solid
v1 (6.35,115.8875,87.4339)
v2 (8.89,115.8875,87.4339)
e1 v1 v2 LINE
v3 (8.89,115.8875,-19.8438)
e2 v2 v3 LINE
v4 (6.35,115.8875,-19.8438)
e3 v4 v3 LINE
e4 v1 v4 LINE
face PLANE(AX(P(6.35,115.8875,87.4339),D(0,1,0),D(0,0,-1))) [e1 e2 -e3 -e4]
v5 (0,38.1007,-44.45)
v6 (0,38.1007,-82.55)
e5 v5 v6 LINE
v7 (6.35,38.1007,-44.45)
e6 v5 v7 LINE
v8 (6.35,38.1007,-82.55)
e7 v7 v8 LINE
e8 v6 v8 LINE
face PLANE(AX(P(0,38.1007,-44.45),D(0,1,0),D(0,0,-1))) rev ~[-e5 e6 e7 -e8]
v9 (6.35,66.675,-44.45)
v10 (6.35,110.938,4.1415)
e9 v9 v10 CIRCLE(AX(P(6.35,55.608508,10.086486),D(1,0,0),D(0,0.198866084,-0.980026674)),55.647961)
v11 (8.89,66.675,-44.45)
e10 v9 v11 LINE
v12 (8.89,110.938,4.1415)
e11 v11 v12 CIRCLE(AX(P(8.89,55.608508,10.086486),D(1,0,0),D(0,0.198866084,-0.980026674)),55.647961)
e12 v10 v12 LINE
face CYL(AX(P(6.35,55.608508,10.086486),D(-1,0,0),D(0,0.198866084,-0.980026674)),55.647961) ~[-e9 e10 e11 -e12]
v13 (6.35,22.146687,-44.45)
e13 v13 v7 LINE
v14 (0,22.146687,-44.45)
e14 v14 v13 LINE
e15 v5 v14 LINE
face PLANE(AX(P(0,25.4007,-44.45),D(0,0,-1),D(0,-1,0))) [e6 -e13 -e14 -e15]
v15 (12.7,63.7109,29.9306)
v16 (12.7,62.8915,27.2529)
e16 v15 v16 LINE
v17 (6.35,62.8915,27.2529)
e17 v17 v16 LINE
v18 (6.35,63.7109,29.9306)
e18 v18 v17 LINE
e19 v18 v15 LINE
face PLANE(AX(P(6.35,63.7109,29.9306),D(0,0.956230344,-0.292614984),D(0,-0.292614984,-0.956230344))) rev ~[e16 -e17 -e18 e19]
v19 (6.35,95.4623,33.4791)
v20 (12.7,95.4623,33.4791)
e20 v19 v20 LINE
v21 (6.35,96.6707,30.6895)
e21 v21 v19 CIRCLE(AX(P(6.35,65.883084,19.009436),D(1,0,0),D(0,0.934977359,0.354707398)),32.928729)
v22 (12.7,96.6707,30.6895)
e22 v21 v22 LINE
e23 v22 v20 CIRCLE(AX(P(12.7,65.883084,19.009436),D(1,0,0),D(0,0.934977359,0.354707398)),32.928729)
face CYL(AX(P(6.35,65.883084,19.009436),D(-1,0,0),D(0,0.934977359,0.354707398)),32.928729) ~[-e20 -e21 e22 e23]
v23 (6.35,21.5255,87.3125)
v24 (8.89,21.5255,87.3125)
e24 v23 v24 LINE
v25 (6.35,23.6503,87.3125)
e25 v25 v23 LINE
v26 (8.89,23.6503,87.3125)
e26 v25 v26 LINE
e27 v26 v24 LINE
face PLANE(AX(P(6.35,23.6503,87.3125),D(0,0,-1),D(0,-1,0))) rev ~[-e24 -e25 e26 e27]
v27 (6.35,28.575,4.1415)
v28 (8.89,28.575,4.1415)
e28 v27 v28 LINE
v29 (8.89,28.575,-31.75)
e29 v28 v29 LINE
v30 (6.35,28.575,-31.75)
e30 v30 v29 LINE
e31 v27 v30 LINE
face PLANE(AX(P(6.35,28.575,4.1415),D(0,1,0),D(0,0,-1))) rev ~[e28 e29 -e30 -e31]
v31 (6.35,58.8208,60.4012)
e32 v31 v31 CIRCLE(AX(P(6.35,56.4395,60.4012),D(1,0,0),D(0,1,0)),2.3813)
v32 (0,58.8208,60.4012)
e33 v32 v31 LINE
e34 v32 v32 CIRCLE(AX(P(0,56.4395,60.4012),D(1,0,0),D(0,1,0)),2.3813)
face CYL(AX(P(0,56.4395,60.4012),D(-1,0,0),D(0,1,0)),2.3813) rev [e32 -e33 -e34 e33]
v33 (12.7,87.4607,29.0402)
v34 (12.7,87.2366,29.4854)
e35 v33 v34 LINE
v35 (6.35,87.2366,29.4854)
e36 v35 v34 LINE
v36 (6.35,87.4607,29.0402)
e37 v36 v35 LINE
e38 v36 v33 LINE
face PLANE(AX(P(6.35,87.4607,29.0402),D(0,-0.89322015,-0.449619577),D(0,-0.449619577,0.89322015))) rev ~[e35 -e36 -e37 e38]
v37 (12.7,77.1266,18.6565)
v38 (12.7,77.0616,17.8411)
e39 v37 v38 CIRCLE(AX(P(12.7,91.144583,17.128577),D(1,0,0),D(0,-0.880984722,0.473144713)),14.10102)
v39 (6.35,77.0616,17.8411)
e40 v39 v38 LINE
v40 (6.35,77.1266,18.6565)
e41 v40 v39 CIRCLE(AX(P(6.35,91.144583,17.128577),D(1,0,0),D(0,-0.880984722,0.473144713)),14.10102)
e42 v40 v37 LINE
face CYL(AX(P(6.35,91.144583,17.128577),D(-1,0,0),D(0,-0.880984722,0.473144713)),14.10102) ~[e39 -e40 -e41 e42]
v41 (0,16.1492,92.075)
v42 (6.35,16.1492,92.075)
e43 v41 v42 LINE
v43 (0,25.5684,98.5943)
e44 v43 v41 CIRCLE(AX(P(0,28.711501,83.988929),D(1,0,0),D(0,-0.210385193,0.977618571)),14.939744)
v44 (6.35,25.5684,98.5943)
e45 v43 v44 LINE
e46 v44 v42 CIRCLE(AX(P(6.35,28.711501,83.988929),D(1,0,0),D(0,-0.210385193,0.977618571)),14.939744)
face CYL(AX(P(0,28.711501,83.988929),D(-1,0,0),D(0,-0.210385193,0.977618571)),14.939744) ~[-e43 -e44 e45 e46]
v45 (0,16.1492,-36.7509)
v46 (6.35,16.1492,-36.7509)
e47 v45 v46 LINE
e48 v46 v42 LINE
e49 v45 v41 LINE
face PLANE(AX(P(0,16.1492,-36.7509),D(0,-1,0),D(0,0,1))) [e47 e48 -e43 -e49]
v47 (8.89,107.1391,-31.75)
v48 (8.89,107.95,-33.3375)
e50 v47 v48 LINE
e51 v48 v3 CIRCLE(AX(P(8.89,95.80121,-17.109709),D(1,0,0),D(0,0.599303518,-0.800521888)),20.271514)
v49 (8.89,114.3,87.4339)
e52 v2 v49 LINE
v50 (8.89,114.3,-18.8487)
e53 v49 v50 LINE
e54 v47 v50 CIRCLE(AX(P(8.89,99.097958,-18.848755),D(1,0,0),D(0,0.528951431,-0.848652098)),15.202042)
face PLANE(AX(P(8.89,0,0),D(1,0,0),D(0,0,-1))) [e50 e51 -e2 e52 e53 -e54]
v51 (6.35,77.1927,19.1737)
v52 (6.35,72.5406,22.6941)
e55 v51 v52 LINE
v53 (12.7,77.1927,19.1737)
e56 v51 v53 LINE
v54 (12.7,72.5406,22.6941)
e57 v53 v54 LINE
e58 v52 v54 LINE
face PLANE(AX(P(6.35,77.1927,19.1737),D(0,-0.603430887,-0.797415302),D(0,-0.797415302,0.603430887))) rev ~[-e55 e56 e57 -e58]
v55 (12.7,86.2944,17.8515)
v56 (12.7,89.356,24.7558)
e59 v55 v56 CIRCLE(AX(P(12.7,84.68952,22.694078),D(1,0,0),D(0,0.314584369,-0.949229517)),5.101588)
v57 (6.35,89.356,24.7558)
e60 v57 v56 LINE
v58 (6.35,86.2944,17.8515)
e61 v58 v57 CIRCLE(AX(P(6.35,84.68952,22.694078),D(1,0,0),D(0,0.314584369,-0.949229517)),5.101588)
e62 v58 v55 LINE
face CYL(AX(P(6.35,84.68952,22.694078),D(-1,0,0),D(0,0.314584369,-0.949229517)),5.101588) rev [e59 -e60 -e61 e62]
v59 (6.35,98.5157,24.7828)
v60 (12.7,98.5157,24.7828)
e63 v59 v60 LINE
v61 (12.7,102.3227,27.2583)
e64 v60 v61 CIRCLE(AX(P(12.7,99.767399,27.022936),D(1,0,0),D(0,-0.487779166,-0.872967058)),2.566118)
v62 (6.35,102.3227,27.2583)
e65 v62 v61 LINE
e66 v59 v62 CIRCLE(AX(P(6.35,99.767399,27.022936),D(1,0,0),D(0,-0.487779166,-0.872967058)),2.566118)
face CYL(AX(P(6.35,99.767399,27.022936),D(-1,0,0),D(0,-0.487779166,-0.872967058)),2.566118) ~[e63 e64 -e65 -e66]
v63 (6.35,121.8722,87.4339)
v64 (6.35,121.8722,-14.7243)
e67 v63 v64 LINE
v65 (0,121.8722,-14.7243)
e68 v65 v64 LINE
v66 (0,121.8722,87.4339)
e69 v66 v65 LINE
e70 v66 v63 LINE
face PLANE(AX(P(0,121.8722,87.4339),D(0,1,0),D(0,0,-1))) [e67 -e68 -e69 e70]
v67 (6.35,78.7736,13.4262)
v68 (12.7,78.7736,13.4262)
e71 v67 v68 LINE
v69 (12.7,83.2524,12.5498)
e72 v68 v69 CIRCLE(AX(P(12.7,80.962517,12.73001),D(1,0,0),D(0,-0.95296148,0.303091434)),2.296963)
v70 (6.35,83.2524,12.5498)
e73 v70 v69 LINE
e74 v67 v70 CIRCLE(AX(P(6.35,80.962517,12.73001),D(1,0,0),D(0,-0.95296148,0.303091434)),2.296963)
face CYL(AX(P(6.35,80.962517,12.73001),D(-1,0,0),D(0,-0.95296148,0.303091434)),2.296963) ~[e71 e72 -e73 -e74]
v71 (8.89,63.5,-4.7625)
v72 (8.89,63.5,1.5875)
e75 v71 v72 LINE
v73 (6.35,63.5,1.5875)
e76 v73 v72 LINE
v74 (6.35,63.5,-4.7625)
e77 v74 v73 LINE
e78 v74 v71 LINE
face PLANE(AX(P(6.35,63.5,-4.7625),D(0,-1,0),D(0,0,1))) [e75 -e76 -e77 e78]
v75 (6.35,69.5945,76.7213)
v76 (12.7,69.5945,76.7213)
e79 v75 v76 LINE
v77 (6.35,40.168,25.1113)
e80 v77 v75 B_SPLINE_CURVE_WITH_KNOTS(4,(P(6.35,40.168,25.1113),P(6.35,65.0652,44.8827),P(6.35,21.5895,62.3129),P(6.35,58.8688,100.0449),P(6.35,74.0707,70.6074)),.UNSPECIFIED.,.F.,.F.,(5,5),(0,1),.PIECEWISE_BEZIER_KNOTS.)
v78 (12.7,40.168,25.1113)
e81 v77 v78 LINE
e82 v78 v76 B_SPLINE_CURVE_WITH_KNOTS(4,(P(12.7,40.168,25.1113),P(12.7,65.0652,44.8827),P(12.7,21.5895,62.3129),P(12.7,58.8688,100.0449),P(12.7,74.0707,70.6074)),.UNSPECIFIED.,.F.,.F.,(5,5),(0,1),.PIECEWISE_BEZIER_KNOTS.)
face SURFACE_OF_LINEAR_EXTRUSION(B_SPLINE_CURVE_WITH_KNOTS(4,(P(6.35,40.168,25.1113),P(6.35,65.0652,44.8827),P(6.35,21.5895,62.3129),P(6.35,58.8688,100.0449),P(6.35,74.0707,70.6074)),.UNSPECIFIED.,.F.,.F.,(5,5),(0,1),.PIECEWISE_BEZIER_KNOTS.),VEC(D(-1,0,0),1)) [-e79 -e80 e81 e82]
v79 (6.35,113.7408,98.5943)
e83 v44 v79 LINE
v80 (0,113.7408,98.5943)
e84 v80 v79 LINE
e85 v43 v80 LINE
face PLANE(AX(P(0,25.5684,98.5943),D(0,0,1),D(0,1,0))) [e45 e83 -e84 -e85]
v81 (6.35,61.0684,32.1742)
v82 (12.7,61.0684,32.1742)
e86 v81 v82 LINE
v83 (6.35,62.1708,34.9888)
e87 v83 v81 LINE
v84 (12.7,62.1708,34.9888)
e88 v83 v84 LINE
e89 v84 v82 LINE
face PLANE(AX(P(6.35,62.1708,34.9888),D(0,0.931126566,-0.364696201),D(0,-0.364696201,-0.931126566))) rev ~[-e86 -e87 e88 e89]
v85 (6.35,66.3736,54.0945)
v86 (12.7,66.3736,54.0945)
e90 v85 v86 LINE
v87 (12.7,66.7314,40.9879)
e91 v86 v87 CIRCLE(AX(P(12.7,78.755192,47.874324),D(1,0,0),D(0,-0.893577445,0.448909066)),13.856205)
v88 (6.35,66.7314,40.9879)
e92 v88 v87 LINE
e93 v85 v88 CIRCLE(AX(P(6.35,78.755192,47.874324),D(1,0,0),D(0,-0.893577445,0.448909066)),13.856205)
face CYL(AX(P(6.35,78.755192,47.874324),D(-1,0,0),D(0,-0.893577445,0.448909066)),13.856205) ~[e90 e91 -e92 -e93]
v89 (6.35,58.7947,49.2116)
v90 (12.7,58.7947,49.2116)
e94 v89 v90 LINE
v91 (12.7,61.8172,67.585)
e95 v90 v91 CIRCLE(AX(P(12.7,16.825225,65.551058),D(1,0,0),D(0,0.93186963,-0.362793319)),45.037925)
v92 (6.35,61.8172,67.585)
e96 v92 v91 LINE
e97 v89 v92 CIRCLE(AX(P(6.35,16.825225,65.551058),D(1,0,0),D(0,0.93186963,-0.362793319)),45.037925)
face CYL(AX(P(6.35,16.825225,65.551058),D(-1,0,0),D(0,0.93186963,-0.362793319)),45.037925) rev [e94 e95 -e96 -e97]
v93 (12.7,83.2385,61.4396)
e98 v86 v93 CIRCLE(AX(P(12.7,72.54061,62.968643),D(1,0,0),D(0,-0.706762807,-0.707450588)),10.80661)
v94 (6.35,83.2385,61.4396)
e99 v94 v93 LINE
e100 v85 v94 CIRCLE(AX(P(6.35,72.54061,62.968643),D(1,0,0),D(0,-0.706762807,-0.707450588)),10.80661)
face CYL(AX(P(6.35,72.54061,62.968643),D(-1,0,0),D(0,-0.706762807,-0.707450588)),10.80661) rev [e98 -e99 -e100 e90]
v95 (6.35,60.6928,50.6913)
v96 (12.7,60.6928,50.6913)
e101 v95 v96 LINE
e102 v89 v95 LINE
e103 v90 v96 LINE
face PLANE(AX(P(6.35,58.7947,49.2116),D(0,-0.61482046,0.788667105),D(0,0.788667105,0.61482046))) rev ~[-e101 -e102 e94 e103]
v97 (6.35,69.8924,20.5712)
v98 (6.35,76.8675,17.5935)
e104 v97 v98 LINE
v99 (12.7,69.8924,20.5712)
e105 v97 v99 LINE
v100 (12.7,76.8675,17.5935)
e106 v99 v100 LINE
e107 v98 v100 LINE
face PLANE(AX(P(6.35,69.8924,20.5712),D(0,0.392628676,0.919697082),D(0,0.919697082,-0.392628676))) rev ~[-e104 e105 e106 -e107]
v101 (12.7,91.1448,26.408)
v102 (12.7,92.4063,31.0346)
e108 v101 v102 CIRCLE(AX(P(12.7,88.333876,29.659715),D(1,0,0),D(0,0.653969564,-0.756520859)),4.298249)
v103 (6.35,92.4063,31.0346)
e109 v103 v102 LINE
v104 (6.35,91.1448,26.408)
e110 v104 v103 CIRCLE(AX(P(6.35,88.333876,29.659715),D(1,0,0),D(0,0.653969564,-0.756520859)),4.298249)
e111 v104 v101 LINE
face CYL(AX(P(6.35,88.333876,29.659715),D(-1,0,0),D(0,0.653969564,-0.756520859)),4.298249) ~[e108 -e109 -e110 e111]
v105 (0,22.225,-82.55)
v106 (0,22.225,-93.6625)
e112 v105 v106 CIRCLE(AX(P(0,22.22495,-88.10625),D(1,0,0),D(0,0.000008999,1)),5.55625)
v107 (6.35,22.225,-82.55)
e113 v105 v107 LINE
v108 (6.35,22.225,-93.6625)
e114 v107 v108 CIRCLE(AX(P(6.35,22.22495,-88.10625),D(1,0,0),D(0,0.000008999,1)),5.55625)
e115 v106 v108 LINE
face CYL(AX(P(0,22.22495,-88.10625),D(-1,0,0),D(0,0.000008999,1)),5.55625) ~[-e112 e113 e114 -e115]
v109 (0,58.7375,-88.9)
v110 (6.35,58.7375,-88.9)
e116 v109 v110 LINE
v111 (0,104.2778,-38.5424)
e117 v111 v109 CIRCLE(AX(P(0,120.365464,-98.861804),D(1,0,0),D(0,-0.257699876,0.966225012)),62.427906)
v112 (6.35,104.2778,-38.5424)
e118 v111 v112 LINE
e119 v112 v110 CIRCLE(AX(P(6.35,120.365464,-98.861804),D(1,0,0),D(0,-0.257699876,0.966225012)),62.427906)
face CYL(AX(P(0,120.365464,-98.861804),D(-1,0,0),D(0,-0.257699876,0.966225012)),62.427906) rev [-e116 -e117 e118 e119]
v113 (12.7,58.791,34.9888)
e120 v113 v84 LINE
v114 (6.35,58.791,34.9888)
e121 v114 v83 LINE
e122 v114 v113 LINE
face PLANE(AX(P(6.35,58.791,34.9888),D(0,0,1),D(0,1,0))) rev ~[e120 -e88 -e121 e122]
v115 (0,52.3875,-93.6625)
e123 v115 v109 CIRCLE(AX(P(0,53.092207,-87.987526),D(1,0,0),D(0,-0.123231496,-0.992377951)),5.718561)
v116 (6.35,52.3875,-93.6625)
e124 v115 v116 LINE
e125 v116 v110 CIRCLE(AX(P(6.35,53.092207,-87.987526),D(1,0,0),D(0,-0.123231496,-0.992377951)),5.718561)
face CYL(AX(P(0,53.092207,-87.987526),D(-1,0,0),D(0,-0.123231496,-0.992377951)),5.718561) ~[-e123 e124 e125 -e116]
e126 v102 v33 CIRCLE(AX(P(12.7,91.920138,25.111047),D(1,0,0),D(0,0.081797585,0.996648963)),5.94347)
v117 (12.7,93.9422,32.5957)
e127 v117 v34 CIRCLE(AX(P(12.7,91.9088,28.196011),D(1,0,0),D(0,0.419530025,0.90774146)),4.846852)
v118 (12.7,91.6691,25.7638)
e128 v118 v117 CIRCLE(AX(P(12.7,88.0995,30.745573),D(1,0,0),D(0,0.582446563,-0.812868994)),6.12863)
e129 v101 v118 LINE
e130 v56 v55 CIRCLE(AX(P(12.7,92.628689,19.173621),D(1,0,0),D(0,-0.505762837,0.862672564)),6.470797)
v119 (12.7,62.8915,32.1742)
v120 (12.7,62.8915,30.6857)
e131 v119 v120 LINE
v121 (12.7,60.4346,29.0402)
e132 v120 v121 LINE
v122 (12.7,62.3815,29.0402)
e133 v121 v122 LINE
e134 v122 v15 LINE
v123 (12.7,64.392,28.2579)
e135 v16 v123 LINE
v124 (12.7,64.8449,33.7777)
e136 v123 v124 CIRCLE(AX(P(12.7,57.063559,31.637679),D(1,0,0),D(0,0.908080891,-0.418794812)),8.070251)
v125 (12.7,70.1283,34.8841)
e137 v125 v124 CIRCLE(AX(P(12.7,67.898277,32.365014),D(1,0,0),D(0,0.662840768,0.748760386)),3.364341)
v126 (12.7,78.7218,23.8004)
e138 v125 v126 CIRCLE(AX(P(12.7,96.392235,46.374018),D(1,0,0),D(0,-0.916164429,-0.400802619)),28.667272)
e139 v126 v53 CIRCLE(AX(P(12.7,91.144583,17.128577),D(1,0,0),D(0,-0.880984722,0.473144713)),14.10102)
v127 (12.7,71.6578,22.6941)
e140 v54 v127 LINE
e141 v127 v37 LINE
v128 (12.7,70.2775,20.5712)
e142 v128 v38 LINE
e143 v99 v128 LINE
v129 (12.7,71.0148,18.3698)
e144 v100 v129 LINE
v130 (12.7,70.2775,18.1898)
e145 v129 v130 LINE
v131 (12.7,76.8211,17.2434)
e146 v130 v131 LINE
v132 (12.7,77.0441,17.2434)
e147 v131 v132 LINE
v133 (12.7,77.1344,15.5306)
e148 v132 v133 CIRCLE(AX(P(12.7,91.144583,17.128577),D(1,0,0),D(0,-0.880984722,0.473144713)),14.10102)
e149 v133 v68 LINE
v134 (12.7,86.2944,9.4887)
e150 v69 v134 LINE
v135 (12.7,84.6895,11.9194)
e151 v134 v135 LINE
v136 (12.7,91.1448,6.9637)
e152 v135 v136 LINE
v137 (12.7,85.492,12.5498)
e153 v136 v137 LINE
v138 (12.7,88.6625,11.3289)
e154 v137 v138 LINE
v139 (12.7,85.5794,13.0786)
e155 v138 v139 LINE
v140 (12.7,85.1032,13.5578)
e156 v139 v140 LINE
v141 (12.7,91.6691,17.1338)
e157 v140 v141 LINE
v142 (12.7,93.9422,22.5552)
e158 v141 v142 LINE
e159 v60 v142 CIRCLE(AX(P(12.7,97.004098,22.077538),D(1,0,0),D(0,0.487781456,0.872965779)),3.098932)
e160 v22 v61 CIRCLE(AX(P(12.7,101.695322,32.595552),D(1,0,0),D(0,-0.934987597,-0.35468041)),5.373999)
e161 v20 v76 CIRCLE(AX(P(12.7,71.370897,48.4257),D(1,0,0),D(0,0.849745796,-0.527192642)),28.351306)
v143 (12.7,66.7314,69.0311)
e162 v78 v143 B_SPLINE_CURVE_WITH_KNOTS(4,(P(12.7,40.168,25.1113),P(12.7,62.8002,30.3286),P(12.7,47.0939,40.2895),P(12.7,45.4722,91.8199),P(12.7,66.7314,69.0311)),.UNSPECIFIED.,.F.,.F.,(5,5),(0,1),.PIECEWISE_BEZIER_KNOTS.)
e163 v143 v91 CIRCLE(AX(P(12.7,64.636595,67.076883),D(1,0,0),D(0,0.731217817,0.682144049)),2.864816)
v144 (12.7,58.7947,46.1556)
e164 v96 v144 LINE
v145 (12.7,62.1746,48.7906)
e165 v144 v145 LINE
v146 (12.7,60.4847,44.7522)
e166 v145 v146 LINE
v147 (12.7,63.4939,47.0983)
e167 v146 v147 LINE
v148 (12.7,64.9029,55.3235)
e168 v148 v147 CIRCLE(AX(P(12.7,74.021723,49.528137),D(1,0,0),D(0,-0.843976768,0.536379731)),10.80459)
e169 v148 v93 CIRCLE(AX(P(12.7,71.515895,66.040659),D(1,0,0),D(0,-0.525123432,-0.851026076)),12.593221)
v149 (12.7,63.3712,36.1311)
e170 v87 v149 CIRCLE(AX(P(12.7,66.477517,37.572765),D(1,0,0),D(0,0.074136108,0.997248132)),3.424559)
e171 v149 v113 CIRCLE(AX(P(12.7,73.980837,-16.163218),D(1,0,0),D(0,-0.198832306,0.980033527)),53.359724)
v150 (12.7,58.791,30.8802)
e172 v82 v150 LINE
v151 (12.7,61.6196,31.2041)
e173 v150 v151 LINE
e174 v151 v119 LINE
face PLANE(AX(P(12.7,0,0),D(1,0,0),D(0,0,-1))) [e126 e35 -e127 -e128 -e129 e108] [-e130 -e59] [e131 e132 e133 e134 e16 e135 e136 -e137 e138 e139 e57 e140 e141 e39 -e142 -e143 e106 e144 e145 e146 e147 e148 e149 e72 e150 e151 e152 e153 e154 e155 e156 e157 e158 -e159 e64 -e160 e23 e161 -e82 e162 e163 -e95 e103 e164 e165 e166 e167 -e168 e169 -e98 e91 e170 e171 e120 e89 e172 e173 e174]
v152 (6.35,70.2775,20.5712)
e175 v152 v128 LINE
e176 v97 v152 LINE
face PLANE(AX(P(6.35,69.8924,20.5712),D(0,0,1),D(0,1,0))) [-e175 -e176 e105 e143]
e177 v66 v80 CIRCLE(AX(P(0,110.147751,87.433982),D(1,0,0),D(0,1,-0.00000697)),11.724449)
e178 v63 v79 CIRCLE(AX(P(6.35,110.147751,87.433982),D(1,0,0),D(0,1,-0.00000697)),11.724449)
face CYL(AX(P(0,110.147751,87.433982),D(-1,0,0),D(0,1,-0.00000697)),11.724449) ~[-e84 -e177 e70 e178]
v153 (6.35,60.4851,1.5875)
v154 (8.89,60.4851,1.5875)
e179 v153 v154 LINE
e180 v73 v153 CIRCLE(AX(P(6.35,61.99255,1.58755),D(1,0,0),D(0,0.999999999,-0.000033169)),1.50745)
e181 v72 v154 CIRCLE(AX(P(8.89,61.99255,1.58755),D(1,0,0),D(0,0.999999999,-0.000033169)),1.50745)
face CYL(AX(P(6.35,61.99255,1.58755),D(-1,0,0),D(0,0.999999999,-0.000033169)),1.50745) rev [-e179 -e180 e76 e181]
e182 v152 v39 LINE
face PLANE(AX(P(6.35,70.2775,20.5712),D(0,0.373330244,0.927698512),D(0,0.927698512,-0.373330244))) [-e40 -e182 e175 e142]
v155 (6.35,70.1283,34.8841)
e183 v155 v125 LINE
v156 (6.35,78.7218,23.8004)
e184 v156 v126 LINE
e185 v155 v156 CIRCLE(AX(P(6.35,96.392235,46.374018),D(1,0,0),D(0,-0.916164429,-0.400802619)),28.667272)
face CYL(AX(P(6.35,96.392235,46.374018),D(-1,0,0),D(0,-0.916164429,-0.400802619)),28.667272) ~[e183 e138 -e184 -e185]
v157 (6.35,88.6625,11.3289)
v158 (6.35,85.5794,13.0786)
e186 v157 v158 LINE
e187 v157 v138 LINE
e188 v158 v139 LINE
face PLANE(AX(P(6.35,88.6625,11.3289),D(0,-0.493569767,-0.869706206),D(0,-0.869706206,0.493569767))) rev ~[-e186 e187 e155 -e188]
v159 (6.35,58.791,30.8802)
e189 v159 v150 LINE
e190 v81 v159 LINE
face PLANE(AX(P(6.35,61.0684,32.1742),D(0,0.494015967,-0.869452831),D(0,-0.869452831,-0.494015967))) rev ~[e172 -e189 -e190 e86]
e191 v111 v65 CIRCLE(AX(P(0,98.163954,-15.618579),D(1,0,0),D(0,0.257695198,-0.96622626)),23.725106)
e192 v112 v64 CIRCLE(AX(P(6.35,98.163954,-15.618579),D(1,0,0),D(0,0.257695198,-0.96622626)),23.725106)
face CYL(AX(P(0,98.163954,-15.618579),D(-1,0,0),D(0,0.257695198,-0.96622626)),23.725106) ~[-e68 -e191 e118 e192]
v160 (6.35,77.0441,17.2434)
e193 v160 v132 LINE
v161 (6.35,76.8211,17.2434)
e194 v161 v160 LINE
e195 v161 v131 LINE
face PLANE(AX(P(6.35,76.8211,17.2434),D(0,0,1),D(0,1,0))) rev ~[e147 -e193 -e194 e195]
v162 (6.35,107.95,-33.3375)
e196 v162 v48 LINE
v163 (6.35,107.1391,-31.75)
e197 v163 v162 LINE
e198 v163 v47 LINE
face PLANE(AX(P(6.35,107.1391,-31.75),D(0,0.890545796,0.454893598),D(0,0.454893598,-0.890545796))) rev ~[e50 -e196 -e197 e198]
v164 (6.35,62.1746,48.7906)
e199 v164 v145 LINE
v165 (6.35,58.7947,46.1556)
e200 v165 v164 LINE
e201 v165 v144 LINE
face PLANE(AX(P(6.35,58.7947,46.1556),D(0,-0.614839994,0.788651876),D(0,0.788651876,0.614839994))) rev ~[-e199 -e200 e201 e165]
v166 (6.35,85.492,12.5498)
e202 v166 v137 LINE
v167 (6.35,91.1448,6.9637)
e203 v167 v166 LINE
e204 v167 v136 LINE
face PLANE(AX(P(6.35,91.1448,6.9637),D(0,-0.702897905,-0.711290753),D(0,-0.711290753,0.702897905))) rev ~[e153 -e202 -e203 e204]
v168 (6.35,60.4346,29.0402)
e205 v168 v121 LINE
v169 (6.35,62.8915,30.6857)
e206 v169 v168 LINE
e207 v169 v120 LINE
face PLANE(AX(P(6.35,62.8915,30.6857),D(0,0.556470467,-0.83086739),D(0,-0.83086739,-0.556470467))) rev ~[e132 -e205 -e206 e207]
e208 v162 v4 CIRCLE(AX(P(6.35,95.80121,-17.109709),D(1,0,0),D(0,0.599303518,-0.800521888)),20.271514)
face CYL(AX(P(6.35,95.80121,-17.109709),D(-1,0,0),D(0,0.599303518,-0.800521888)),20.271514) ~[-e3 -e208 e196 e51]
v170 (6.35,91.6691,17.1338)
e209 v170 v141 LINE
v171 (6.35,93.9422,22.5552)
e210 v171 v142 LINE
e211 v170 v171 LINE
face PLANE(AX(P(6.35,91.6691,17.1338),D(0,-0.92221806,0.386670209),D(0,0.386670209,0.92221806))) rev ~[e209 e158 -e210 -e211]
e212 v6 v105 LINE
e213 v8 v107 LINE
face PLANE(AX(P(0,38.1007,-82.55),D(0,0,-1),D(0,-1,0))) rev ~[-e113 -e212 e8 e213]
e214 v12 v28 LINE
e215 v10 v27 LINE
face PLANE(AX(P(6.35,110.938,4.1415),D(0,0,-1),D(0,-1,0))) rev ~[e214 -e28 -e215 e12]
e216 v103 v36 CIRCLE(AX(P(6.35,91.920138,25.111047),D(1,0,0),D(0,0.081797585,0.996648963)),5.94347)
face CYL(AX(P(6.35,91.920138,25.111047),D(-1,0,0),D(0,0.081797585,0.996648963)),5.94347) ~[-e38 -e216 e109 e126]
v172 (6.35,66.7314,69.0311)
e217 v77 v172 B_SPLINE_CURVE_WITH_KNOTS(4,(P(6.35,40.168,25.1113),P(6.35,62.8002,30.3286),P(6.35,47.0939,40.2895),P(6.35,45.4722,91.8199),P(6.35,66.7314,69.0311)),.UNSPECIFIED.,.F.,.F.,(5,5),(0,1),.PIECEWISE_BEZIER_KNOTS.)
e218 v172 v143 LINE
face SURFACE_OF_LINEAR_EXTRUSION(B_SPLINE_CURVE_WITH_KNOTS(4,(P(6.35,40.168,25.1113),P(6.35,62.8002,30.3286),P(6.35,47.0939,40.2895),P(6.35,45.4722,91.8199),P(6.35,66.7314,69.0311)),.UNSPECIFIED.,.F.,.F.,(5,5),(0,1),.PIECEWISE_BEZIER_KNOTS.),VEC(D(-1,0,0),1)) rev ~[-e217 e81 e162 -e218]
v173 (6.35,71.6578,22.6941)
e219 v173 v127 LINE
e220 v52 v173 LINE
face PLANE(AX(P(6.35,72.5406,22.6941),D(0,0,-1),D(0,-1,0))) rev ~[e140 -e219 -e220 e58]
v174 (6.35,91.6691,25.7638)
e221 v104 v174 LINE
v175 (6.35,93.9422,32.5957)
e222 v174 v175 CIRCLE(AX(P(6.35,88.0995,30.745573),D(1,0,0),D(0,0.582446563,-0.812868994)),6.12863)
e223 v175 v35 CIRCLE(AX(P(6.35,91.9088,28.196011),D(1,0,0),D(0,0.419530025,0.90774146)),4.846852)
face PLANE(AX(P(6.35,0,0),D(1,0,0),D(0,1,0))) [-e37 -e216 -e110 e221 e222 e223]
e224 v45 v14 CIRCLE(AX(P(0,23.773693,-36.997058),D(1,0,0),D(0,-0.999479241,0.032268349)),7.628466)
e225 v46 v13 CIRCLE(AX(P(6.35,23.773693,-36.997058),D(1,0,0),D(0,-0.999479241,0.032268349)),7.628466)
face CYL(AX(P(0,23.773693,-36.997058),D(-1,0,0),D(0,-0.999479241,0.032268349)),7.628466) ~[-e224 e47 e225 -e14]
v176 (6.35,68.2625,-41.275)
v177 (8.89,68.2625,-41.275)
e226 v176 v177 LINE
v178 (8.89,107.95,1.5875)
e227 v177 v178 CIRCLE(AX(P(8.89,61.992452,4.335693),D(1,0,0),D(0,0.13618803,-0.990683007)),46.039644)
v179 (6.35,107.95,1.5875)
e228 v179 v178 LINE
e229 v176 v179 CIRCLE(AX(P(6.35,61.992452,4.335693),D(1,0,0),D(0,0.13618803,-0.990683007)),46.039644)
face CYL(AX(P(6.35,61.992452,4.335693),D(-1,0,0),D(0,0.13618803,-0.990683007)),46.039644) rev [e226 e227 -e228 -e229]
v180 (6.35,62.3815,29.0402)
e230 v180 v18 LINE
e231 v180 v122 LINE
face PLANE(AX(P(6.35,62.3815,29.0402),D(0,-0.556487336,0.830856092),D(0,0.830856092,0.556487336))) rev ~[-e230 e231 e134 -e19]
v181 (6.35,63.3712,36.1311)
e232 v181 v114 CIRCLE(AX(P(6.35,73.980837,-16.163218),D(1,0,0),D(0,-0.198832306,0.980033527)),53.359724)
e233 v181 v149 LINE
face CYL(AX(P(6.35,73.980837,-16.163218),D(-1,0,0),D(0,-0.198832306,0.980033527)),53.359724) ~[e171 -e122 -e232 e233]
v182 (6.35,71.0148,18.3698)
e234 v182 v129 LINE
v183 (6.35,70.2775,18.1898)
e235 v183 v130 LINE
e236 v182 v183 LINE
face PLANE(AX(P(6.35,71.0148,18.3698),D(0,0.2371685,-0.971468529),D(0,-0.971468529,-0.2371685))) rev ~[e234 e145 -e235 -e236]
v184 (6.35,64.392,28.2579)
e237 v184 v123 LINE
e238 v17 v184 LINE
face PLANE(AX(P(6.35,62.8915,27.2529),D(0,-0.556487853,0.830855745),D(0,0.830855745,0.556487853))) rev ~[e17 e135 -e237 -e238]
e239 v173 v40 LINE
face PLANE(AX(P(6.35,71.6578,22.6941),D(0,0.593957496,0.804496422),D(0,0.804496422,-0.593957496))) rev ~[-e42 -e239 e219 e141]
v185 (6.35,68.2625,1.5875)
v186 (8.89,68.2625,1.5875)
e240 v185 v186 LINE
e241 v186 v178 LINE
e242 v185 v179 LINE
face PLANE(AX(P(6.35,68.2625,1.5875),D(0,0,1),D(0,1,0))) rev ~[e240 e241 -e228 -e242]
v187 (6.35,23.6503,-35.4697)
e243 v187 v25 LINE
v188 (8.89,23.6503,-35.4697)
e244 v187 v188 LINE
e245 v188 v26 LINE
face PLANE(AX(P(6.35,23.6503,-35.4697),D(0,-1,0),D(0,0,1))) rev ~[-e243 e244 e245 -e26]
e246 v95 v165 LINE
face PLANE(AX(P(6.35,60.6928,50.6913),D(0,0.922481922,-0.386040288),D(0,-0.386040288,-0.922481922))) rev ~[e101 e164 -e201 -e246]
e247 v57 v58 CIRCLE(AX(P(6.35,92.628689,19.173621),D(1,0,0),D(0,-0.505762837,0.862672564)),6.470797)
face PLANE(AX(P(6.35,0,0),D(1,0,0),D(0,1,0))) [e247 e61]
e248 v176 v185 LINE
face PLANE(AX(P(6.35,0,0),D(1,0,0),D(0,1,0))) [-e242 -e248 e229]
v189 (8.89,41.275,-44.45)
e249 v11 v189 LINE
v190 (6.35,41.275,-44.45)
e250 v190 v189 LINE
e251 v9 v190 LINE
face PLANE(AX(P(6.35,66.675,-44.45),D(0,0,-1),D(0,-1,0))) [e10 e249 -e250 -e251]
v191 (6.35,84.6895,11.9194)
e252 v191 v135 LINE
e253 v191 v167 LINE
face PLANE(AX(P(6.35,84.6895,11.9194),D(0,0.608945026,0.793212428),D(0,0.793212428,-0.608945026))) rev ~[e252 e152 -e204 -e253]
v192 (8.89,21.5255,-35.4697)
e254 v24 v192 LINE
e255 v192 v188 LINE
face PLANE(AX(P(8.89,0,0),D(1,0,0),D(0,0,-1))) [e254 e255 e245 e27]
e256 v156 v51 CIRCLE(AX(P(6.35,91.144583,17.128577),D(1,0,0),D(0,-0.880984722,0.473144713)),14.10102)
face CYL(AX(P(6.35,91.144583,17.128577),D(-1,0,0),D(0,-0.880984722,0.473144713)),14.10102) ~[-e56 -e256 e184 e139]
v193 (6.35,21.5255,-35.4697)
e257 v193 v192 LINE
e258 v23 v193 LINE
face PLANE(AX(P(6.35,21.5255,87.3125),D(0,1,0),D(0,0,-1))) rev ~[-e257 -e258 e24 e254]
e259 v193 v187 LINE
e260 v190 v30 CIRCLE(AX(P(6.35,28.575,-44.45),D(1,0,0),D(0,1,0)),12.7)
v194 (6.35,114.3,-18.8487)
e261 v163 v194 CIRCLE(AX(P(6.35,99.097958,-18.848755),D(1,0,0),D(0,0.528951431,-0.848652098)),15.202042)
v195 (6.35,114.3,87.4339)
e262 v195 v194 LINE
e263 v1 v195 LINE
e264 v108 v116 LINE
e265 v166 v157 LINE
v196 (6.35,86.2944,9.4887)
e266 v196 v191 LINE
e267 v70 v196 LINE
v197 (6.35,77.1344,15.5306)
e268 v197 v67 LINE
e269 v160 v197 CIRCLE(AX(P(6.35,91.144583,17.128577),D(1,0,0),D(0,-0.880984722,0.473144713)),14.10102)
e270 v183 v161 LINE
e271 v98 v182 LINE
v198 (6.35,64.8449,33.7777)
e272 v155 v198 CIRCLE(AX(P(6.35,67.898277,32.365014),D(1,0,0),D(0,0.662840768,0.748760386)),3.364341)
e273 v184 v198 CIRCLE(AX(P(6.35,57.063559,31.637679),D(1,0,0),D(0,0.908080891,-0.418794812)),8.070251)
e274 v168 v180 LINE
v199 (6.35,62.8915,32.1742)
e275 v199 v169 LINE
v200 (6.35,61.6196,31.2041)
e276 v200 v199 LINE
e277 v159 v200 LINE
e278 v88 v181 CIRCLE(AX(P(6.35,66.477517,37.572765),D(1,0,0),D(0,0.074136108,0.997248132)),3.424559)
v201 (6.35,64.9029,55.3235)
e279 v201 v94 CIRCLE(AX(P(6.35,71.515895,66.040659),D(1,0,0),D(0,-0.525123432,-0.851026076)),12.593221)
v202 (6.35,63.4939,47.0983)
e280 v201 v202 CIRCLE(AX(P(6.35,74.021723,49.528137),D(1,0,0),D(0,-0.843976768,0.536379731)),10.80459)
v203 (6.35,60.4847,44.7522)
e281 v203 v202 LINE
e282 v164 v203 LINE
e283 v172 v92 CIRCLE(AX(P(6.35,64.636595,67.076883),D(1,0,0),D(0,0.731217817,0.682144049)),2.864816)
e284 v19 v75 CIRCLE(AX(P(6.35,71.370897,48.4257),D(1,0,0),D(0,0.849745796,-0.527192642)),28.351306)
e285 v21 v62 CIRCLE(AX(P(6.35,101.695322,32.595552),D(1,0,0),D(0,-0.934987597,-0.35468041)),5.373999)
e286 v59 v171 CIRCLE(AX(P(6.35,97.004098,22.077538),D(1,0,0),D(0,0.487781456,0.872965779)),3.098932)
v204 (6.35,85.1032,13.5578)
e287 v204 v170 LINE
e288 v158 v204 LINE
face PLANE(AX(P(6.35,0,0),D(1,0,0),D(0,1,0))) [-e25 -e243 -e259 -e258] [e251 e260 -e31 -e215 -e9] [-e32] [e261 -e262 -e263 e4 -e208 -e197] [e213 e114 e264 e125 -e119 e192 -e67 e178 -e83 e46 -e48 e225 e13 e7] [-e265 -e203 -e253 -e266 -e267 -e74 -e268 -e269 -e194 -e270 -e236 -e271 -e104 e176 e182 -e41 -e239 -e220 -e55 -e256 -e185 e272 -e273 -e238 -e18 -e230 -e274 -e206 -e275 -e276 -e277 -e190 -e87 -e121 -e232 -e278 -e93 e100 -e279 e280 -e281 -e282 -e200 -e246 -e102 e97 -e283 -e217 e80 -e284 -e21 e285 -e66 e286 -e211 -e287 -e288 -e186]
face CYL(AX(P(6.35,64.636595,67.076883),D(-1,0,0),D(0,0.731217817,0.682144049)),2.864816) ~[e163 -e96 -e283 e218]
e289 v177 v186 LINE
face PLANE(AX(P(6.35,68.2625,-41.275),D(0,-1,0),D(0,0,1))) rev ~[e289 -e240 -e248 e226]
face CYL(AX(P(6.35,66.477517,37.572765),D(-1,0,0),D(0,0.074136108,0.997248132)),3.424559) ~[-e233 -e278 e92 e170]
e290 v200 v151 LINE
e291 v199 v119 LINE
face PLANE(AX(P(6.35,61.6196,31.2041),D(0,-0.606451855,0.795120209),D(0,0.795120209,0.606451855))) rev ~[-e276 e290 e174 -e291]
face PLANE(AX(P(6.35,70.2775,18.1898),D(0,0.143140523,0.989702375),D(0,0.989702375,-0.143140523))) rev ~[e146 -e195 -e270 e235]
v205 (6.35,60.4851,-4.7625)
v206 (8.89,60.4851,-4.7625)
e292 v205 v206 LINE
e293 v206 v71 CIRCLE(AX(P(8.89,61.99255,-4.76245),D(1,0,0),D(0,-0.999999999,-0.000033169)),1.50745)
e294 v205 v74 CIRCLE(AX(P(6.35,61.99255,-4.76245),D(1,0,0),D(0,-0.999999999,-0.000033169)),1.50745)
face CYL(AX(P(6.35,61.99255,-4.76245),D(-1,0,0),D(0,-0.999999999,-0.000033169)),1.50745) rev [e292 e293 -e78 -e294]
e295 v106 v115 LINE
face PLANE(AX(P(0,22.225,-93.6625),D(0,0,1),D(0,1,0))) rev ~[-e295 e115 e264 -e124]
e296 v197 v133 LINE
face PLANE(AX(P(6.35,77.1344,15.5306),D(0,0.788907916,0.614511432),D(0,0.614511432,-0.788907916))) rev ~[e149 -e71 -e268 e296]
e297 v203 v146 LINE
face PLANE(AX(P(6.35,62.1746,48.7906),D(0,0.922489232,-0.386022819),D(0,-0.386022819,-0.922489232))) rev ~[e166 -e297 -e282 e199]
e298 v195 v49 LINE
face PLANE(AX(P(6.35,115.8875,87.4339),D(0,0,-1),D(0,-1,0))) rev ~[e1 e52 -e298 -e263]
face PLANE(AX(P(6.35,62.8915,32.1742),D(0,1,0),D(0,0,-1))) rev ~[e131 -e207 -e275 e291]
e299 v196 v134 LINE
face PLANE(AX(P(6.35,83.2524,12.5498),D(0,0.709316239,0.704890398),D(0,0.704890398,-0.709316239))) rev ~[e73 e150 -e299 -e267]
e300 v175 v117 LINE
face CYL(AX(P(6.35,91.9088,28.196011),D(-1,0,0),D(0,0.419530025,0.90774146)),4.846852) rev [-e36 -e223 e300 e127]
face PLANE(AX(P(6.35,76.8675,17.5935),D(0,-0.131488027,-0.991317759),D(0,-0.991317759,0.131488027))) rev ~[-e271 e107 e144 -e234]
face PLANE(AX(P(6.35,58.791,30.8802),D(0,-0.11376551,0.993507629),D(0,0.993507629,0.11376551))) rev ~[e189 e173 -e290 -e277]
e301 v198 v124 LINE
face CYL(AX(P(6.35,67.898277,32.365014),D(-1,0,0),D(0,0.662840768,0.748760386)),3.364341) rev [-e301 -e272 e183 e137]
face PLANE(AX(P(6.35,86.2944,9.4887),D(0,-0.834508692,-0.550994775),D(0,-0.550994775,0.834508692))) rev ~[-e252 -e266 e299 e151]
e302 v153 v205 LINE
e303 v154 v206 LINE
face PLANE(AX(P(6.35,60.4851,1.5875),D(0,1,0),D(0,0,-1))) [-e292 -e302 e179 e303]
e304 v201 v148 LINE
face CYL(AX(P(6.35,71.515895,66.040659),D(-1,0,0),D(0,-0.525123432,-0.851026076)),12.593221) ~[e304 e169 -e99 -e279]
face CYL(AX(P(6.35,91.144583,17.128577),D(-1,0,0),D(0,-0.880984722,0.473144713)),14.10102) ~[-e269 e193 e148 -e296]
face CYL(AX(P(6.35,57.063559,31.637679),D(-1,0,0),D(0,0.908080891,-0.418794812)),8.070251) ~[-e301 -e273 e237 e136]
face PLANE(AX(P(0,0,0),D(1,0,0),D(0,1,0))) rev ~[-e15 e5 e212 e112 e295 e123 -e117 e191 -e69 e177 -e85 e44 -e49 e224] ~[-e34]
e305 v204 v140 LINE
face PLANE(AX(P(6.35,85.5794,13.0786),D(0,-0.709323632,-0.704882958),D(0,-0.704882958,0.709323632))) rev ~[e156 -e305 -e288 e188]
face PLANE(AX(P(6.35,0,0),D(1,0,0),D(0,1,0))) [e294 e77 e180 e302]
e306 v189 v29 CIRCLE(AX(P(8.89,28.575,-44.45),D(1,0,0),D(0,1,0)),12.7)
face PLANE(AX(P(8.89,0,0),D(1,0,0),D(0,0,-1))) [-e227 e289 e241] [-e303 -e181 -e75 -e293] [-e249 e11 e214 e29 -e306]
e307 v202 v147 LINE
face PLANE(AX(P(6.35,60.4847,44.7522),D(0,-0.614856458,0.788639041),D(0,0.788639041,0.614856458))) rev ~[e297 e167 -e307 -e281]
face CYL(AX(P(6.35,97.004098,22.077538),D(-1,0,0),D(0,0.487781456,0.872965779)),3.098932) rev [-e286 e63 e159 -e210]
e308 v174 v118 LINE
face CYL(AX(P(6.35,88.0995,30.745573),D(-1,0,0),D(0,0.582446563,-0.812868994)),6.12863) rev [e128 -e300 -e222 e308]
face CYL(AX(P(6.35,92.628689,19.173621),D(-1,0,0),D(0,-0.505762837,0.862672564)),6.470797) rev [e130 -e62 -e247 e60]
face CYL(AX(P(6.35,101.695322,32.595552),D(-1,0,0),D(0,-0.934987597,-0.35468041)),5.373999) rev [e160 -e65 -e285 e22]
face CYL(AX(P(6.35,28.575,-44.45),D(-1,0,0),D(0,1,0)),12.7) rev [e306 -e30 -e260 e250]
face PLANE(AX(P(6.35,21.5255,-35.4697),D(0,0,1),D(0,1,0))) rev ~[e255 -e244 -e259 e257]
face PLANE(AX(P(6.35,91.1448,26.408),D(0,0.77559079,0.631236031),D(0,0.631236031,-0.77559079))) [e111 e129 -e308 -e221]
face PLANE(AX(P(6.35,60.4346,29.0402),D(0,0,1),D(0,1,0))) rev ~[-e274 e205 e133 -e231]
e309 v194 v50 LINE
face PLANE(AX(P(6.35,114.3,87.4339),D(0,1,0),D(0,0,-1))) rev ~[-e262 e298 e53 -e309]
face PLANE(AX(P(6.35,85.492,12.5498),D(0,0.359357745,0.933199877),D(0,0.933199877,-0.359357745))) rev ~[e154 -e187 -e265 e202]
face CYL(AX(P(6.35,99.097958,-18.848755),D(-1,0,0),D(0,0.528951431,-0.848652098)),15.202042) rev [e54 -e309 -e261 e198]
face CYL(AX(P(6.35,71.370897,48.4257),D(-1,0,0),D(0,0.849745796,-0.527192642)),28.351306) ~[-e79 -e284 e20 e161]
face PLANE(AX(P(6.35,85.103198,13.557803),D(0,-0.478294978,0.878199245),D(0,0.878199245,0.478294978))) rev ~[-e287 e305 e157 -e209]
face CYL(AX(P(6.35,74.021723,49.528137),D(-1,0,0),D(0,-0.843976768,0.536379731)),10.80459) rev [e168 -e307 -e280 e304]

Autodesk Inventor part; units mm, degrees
ref_plane "YZ Plane" through (0, 0, 0) normal (1, 0, 0) x (0, 1, 0)
ref_plane "XZ Plane" through (0, 0, 0) normal (0, 1, 0) x (-1, 0, 0)
ref_plane "XY Plane" through (0, 0, 0) normal (0, 0, 1) x (1, 0, 0)
sketch "outline" plane through (0, 0, 0) normal (1, 0, 0) x (0, 1, 0)
  line L0 (0, 88.9038) -> (127, 88.9038) construction
  line L1 (127, 88.9038) -> (127, -88.8962) construction
  line L2 (127, -88.8962) -> (0, -88.8962) construction
  line L3 (0, -88.8962) -> (0, 88.9038) construction
  line L4 (0, 88.9038) -> (127, -88.8962) construction
  line L5 (127, 88.9038) -> (0, -88.8962) construction
  line L6 (-6.35, -82.5462) -> (38.1, -82.5462)
  line L7 (38.1, -82.5462) -> (38.1, -44.4462)
  line L8 (38.1, -44.4462) -> (-6.35, -44.4462)
  line L9 (-6.35, -44.4462) -> (-6.35, -82.5462)
  line L10 (4.9871, -50.7075) -> (22.0805, -50.7075) construction
  line L11 (22.0805, -50.7075) -> (22.0805, -80.6209) construction
  line L12 (22.0805, -80.6209) -> (4.9871, -80.6209) construction
  line L13 (4.9871, -80.6209) -> (4.9871, -50.7075) construction
  line L14 (179.262, 0.0038) -> (-38.2255, 0.0038) construction
  line L15 (0, 150.8125) -> (0, -173.0375) construction
  point P0 (63.5, 0.0038)
  point P1 (63.5, 0.0038)
  dimension "d0" = 177.8
  dimension "d1" = 127
  dimension "d2" = 38.1
  dimension "d3" = 44.45
  dimension "d4" = 6.35
  dimension "d5" = 6.35
sketch "Sketch2" plane through (0, 0, 0) normal (1, 0, 0) x (0, 1, 0)
  line L0 (16.1492, -36.7509) -> (16.1492, 92.075)
  line L1 (25.5684, 98.5943) -> (113.7408, 98.5943)
  line L2 (121.8722, 87.4339) -> (121.8722, -14.7243)
  line L3 (38.1007, -44.45) -> (38.1007, -82.55)
  line L4 (38.1007, -44.45) -> (12.7007, -44.45)
  line L5 (38.1007, -82.55) -> (17.4632, -82.55)
  arc A0 (121.8722, 87.4339) -> (113.7408, 98.5943) centre (110.1475, 87.4339) ccw
  line L6 (31.7507, -44.45) -> (31.7507, 88.9) construction
  line L7 (25.4007, -44.45) -> (25.4007, 88.9) construction
  circle A1 centre (56.4395, 60.4012) radius 2.3813
  line L8 (0, -88.9) -> (117.475, -88.9) construction
  arc A2 (22.225, -82.55) -> (22.225, -93.6625) centre (22.225, -88.1063) ccw
  line L9 (22.225, -93.6625) -> (52.3875, -93.6625)
  arc A3 (104.2778, -38.5424) -> (58.7375, -88.9) centre (120.3654, -98.8617) ccw
  arc A4 (104.2778, -38.5424) -> (121.8722, -14.7243) centre (98.1639, -15.6185) ccw
  arc A5 (16.1492, -36.7509) -> (25.4007, -44.45) centre (23.7736, -36.9971) ccw
  arc A6 (25.5684, 98.5943) -> (16.1492, 92.075) centre (28.7116, 83.9887) ccw
  arc A7 (52.3875, -93.6625) -> (58.7375, -88.9) centre (53.0922, -87.9875) ccw
  point P0 (0, 0)
  point P1 (22.1466, -44.45)
  dimension "d6" = 6.35
  dimension "d7" = 6.35
  dimension "d8" = 4.7625
  dimension "d9" = 24.6888
  dimension "d10" = 149.3012
extrude "main right panel" add sketch "Sketch2" along normal blind 6.35 contours L0 A6 L1 A0 L2 A4 A3 A7 L9 A2 L5 L3 L4 A5
sketch "rat icon raw" plane through (6.35, 0, 0) normal (1, 0, 0) x (0, 0, -1)
  line L0 (-53.1267, 106.3625) -> (-10.9673, 106.3625) construction
  line L1 (-10.9673, 106.3625) -> (-10.9673, 68.2625) construction
  line L2 (-10.9673, 68.2625) -> (-53.1267, 68.2625) construction
  line L3 (-53.1267, 68.2625) -> (-53.1267, 106.3625) construction
  line L4 (-80.9625, 106.3625) -> (-14.2875, 106.3625) construction
  line L5 (-80.9625, 68.2625) -> (-14.2875, 68.2625) construction
  point P0 (0, 0)
sketch "detail lines" plane through (6.35, 0, 0) normal (1, 0, 0) x (0, 0, -1)
  line L0 (41.275, 68.2625) -> (-1.5875, 68.2625)
  line L1 (-1.5875, 68.2625) -> (-1.5875, 107.95)
  arc A0 (41.275, 68.2625) -> (-1.5875, 107.95) centre (-4.3356, 61.9925) ccw
  line L2 (-4.1415, 110.938) -> (-4.1415, 28.575)
  line L3 (-4.1415, 28.575) -> (31.75, 28.575)
  arc A1 (44.45, 66.675) -> (-4.1415, 110.938) centre (-10.0865, 55.6085) ccw
  line L4 (44.45, 66.675) -> (44.45, 41.275)
  arc A2 (44.45, 41.275) -> (31.75, 28.575) centre (44.45, 28.575) ccw
  line L5 (-1.5875, 61.9925) -> (4.7625, 61.9925) construction
  line L6 (-1.5875, 60.4851) -> (4.7625, 60.4851)
  line L7 (4.7625, 63.5) -> (-1.5875, 63.5)
  arc A3 (-1.5875, 63.5) -> (-1.5875, 60.4851) centre (-1.5875, 61.9925) ccw
  arc A4 (4.7625, 60.4851) -> (4.7625, 63.5) centre (4.7625, 61.9925) ccw
  line L8 (35.4697, 23.6503) -> (-87.3125, 23.6503)
  line L9 (-87.4339, 115.8875) -> (19.8438, 115.8875)
  arc A5 (33.3375, 107.95) -> (19.8438, 115.8875) centre (17.1097, 95.8012) ccw
  line L10 (-87.4339, 115.8875) -> (-87.4339, 114.3)
  line L11 (-87.4339, 114.3) -> (18.8487, 114.3)
  arc A6 (31.75, 107.1391) -> (18.8487, 114.3) centre (18.8487, 99.0979) ccw
  line L12 (31.75, 107.1391) -> (33.3375, 107.95)
  line L13 (-87.3125, 23.6503) -> (-87.3125, 21.5255)
  line L14 (-87.3125, 21.5255) -> (35.4697, 21.5255)
  line L15 (35.4697, 21.5255) -> (35.4697, 23.6503)
  point P0 (0, 0)
  point P1 (1.5875, 61.9925)
extrude "car details extrusion" add sketch "detail lines" along normal blind 2.54
sketch "rat sketch" plane through (6.35, 0, 0) normal (1, 0, 0) x (0, 0, -1)
  spline S0 degree 4 poles (-25.1113, 40.168) (-30.3286, 62.8002) (-40.2895, 47.0939) (-91.8199, 45.4722) (-69.0311, 66.7314) knots 0 0 0 0 0 1 1 1 1 1
  spline S1 degree 4 poles (-25.1113, 40.168) (-44.8827, 65.0652) (-62.3129, 21.5895) (-100.0449, 58.8688) (-70.6074, 74.0707) knots 0 0 0 0 0 1 1 1 1 1
  arc A0 (-69.0311, 66.7314) -> (-67.585, 61.8172) centre (-67.0769, 64.6366) ccw
  arc A1 (-49.2116, 58.7947) -> (-67.585, 61.8172) centre (-65.5506, 16.8269) ccw
  line L0 (-49.2116, 58.7947) -> (-50.6913, 60.6928)
  line L1 (-50.6913, 60.6928) -> (-46.1556, 58.7947)
  line L2 (-46.1556, 58.7947) -> (-48.7906, 62.1746)
  line L3 (-48.7906, 62.1746) -> (-44.7522, 60.4847)
  line L4 (-44.7522, 60.4847) -> (-47.0983, 63.4939)
  arc A2 (-55.3235, 64.9029) -> (-47.0983, 63.4939) centre (-49.5283, 74.0213) ccw
  arc A3 (-55.3235, 64.9029) -> (-61.4396, 83.2385) centre (-66.0407, 71.5159) ccw
  arc A4 (-55.3235, 64.9029) -> (-61.4396, 83.2385) centre (-62.9686, 72.5406) ccw
  arc A5 (-54.0945, 66.3736) -> (-40.9879, 66.7314) centre (-47.8743, 78.7553) ccw
  arc A6 (-40.9879, 66.7314) -> (-36.1311, 63.3712) centre (-37.5728, 66.4775) ccw
  arc A7 (-33.4791, 95.4623) -> (-76.7213, 69.5945) centre (-48.4257, 71.3709) ccw
  arc A8 (-36.1311, 63.3712) -> (-34.9888, 58.791) centre (16.1312, 73.9736) ccw
  line L5 (-34.9888, 58.791) -> (-34.9888, 62.1708)
  line L6 (-34.9888, 62.1708) -> (-32.1742, 61.0684)
  line L7 (-32.1742, 61.0684) -> (-30.8802, 58.791)
  line L8 (-30.8802, 58.791) -> (-31.2041, 61.6196)
  line L9 (-31.2041, 61.6196) -> (-32.1742, 62.8915)
  line L10 (-32.1742, 62.8915) -> (-30.6857, 62.8915)
  line L11 (-30.6857, 62.8915) -> (-29.0402, 60.4346)
  line L12 (-29.0402, 60.4346) -> (-29.0402, 62.3815)
  line L13 (-29.0402, 62.3815) -> (-29.9306, 63.7109)
  line L14 (-29.9306, 63.7109) -> (-27.2529, 62.8915)
  line L15 (-27.2529, 62.8915) -> (-28.2579, 64.392)
  arc A9 (-28.2579, 64.392) -> (-33.7777, 64.8449) centre (-31.6378, 57.0631) ccw
  arc A10 (-34.8841, 70.1283) -> (-33.7777, 64.8449) centre (-32.3651, 67.8983) ccw
  arc A11 (-34.8841, 70.1283) -> (-23.8004, 78.7218) centre (-46.3737, 96.3917) ccw
  arc A12 (-23.8004, 78.7218) -> (-15.5306, 77.1344) centre (-17.1285, 91.1448) ccw
  line L16 (-15.5306, 77.1344) -> (-13.4262, 78.7736)
  arc A13 (-13.4262, 78.7736) -> (-12.5498, 83.2524) centre (-12.73, 80.9625) ccw
  line L17 (-12.5498, 83.2524) -> (-17.1338, 91.6691)
  line L18 (-17.1338, 91.6691) -> (-22.5552, 93.9422)
  arc A14 (-24.7828, 98.5157) -> (-22.5552, 93.9422) centre (-22.0776, 97.0041) ccw
  arc A15 (-24.7828, 98.5157) -> (-27.2583, 102.3227) centre (-27.0229, 99.7674) ccw
  arc A16 (-30.6895, 96.6707) -> (-27.2583, 102.3227) centre (-32.5957, 101.6955) ccw
  arc A17 (-30.6895, 96.6707) -> (-33.4791, 95.4623) centre (-19.0133, 65.8926) ccw
  arc A18 (-17.8515, 86.2944) -> (-24.7683, 89.3504) centre (-22.6941, 84.6895) ccw
  arc A19 (-24.7558, 89.356) -> (-17.8515, 86.2944) centre (-19.1737, 92.6286) ccw
  arc A20 (-32.5957, 93.9422) -> (-29.4854, 87.2366) centre (-28.196, 91.9088) ccw
  arc A21 (-25.7638, 91.6691) -> (-32.5957, 93.9422) centre (-30.7455, 88.0996) ccw
  arc A22 (-26.408, 91.1448) -> (-31.0346, 92.4063) centre (-29.6597, 88.3339) ccw
  arc A23 (-31.0346, 92.4063) -> (-29.0402, 87.4607) centre (-25.1113, 91.9201) ccw
  line L19 (-29.0402, 87.4607) -> (-29.4854, 87.2366)
  line L20 (-26.408, 91.1448) -> (-25.7638, 91.6691)
  line L21 (-19.1737, 77.1927) -> (-22.6941, 72.5406)
  line L22 (-22.6941, 72.5406) -> (-22.6941, 71.6578)
  line L23 (-22.6941, 71.6578) -> (-18.6565, 77.1266)
  line L24 (-20.5712, 69.8924) -> (-17.5596, 76.9468)
  line L25 (-20.5712, 69.8924) -> (-20.5712, 70.2775)
  line L26 (-20.5712, 70.2775) -> (-17.8411, 77.0616)
  line L27 (-17.5935, 76.8675) -> (-18.3698, 71.0148)
  line L28 (-18.3698, 71.0148) -> (-18.1898, 70.2775)
  line L29 (-18.1898, 70.2775) -> (-17.2434, 76.8211)
  line L30 (-17.2434, 76.8211) -> (-17.2434, 77.0441)
  line L31 (-12.5498, 83.2524) -> (-9.4887, 86.2944)
  line L32 (-9.4887, 86.2944) -> (-11.9194, 84.6895)
  line L33 (-11.9194, 84.6895) -> (-6.9637, 91.1448)
  line L34 (-6.9637, 91.1448) -> (-12.5498, 85.492)
  line L35 (-12.5498, 85.492) -> (-11.3289, 88.6625)
  line L36 (-11.3289, 88.6625) -> (-13.0786, 85.5794)
  line L37 (-13.0786, 85.5794) -> (-13.5578, 85.1032)
  point P0 (0, 0)
  point P1 (-32.5957, 51.1893)
  point P2 (-50.6956, 51.4518)
  point P3 (-71.9355, 54.0894)
  point P4 (-46.3737, 47.5886)
  point P5 (-67.5516, 46.5674)
  point P6 (-79.7754, 55.7354)
  point P7 (-18.6565, 77.1266)
extrude "rat extrusion" add sketch "rat sketch" along normal blind 6.35 contours S1 A7 A17 A16 A15 A14 L18 L17 A13 L16 A12 A11 A10 A9 L15 L14 L13 L12 L11 L10 L9 L8 L7 L6 L5 A8 A6 A5 A4 A3 A2 L4 L3 L2 L1 L0 A1 A0 S0 | L37 L36 L35 L34 L33 L32 L31 L17 | L30 L29 L28 L27 L24 L25 L26 A12 | L23 L22 L21 A12
properties part number "right_panel" material "Plastic, Opaque Black"
